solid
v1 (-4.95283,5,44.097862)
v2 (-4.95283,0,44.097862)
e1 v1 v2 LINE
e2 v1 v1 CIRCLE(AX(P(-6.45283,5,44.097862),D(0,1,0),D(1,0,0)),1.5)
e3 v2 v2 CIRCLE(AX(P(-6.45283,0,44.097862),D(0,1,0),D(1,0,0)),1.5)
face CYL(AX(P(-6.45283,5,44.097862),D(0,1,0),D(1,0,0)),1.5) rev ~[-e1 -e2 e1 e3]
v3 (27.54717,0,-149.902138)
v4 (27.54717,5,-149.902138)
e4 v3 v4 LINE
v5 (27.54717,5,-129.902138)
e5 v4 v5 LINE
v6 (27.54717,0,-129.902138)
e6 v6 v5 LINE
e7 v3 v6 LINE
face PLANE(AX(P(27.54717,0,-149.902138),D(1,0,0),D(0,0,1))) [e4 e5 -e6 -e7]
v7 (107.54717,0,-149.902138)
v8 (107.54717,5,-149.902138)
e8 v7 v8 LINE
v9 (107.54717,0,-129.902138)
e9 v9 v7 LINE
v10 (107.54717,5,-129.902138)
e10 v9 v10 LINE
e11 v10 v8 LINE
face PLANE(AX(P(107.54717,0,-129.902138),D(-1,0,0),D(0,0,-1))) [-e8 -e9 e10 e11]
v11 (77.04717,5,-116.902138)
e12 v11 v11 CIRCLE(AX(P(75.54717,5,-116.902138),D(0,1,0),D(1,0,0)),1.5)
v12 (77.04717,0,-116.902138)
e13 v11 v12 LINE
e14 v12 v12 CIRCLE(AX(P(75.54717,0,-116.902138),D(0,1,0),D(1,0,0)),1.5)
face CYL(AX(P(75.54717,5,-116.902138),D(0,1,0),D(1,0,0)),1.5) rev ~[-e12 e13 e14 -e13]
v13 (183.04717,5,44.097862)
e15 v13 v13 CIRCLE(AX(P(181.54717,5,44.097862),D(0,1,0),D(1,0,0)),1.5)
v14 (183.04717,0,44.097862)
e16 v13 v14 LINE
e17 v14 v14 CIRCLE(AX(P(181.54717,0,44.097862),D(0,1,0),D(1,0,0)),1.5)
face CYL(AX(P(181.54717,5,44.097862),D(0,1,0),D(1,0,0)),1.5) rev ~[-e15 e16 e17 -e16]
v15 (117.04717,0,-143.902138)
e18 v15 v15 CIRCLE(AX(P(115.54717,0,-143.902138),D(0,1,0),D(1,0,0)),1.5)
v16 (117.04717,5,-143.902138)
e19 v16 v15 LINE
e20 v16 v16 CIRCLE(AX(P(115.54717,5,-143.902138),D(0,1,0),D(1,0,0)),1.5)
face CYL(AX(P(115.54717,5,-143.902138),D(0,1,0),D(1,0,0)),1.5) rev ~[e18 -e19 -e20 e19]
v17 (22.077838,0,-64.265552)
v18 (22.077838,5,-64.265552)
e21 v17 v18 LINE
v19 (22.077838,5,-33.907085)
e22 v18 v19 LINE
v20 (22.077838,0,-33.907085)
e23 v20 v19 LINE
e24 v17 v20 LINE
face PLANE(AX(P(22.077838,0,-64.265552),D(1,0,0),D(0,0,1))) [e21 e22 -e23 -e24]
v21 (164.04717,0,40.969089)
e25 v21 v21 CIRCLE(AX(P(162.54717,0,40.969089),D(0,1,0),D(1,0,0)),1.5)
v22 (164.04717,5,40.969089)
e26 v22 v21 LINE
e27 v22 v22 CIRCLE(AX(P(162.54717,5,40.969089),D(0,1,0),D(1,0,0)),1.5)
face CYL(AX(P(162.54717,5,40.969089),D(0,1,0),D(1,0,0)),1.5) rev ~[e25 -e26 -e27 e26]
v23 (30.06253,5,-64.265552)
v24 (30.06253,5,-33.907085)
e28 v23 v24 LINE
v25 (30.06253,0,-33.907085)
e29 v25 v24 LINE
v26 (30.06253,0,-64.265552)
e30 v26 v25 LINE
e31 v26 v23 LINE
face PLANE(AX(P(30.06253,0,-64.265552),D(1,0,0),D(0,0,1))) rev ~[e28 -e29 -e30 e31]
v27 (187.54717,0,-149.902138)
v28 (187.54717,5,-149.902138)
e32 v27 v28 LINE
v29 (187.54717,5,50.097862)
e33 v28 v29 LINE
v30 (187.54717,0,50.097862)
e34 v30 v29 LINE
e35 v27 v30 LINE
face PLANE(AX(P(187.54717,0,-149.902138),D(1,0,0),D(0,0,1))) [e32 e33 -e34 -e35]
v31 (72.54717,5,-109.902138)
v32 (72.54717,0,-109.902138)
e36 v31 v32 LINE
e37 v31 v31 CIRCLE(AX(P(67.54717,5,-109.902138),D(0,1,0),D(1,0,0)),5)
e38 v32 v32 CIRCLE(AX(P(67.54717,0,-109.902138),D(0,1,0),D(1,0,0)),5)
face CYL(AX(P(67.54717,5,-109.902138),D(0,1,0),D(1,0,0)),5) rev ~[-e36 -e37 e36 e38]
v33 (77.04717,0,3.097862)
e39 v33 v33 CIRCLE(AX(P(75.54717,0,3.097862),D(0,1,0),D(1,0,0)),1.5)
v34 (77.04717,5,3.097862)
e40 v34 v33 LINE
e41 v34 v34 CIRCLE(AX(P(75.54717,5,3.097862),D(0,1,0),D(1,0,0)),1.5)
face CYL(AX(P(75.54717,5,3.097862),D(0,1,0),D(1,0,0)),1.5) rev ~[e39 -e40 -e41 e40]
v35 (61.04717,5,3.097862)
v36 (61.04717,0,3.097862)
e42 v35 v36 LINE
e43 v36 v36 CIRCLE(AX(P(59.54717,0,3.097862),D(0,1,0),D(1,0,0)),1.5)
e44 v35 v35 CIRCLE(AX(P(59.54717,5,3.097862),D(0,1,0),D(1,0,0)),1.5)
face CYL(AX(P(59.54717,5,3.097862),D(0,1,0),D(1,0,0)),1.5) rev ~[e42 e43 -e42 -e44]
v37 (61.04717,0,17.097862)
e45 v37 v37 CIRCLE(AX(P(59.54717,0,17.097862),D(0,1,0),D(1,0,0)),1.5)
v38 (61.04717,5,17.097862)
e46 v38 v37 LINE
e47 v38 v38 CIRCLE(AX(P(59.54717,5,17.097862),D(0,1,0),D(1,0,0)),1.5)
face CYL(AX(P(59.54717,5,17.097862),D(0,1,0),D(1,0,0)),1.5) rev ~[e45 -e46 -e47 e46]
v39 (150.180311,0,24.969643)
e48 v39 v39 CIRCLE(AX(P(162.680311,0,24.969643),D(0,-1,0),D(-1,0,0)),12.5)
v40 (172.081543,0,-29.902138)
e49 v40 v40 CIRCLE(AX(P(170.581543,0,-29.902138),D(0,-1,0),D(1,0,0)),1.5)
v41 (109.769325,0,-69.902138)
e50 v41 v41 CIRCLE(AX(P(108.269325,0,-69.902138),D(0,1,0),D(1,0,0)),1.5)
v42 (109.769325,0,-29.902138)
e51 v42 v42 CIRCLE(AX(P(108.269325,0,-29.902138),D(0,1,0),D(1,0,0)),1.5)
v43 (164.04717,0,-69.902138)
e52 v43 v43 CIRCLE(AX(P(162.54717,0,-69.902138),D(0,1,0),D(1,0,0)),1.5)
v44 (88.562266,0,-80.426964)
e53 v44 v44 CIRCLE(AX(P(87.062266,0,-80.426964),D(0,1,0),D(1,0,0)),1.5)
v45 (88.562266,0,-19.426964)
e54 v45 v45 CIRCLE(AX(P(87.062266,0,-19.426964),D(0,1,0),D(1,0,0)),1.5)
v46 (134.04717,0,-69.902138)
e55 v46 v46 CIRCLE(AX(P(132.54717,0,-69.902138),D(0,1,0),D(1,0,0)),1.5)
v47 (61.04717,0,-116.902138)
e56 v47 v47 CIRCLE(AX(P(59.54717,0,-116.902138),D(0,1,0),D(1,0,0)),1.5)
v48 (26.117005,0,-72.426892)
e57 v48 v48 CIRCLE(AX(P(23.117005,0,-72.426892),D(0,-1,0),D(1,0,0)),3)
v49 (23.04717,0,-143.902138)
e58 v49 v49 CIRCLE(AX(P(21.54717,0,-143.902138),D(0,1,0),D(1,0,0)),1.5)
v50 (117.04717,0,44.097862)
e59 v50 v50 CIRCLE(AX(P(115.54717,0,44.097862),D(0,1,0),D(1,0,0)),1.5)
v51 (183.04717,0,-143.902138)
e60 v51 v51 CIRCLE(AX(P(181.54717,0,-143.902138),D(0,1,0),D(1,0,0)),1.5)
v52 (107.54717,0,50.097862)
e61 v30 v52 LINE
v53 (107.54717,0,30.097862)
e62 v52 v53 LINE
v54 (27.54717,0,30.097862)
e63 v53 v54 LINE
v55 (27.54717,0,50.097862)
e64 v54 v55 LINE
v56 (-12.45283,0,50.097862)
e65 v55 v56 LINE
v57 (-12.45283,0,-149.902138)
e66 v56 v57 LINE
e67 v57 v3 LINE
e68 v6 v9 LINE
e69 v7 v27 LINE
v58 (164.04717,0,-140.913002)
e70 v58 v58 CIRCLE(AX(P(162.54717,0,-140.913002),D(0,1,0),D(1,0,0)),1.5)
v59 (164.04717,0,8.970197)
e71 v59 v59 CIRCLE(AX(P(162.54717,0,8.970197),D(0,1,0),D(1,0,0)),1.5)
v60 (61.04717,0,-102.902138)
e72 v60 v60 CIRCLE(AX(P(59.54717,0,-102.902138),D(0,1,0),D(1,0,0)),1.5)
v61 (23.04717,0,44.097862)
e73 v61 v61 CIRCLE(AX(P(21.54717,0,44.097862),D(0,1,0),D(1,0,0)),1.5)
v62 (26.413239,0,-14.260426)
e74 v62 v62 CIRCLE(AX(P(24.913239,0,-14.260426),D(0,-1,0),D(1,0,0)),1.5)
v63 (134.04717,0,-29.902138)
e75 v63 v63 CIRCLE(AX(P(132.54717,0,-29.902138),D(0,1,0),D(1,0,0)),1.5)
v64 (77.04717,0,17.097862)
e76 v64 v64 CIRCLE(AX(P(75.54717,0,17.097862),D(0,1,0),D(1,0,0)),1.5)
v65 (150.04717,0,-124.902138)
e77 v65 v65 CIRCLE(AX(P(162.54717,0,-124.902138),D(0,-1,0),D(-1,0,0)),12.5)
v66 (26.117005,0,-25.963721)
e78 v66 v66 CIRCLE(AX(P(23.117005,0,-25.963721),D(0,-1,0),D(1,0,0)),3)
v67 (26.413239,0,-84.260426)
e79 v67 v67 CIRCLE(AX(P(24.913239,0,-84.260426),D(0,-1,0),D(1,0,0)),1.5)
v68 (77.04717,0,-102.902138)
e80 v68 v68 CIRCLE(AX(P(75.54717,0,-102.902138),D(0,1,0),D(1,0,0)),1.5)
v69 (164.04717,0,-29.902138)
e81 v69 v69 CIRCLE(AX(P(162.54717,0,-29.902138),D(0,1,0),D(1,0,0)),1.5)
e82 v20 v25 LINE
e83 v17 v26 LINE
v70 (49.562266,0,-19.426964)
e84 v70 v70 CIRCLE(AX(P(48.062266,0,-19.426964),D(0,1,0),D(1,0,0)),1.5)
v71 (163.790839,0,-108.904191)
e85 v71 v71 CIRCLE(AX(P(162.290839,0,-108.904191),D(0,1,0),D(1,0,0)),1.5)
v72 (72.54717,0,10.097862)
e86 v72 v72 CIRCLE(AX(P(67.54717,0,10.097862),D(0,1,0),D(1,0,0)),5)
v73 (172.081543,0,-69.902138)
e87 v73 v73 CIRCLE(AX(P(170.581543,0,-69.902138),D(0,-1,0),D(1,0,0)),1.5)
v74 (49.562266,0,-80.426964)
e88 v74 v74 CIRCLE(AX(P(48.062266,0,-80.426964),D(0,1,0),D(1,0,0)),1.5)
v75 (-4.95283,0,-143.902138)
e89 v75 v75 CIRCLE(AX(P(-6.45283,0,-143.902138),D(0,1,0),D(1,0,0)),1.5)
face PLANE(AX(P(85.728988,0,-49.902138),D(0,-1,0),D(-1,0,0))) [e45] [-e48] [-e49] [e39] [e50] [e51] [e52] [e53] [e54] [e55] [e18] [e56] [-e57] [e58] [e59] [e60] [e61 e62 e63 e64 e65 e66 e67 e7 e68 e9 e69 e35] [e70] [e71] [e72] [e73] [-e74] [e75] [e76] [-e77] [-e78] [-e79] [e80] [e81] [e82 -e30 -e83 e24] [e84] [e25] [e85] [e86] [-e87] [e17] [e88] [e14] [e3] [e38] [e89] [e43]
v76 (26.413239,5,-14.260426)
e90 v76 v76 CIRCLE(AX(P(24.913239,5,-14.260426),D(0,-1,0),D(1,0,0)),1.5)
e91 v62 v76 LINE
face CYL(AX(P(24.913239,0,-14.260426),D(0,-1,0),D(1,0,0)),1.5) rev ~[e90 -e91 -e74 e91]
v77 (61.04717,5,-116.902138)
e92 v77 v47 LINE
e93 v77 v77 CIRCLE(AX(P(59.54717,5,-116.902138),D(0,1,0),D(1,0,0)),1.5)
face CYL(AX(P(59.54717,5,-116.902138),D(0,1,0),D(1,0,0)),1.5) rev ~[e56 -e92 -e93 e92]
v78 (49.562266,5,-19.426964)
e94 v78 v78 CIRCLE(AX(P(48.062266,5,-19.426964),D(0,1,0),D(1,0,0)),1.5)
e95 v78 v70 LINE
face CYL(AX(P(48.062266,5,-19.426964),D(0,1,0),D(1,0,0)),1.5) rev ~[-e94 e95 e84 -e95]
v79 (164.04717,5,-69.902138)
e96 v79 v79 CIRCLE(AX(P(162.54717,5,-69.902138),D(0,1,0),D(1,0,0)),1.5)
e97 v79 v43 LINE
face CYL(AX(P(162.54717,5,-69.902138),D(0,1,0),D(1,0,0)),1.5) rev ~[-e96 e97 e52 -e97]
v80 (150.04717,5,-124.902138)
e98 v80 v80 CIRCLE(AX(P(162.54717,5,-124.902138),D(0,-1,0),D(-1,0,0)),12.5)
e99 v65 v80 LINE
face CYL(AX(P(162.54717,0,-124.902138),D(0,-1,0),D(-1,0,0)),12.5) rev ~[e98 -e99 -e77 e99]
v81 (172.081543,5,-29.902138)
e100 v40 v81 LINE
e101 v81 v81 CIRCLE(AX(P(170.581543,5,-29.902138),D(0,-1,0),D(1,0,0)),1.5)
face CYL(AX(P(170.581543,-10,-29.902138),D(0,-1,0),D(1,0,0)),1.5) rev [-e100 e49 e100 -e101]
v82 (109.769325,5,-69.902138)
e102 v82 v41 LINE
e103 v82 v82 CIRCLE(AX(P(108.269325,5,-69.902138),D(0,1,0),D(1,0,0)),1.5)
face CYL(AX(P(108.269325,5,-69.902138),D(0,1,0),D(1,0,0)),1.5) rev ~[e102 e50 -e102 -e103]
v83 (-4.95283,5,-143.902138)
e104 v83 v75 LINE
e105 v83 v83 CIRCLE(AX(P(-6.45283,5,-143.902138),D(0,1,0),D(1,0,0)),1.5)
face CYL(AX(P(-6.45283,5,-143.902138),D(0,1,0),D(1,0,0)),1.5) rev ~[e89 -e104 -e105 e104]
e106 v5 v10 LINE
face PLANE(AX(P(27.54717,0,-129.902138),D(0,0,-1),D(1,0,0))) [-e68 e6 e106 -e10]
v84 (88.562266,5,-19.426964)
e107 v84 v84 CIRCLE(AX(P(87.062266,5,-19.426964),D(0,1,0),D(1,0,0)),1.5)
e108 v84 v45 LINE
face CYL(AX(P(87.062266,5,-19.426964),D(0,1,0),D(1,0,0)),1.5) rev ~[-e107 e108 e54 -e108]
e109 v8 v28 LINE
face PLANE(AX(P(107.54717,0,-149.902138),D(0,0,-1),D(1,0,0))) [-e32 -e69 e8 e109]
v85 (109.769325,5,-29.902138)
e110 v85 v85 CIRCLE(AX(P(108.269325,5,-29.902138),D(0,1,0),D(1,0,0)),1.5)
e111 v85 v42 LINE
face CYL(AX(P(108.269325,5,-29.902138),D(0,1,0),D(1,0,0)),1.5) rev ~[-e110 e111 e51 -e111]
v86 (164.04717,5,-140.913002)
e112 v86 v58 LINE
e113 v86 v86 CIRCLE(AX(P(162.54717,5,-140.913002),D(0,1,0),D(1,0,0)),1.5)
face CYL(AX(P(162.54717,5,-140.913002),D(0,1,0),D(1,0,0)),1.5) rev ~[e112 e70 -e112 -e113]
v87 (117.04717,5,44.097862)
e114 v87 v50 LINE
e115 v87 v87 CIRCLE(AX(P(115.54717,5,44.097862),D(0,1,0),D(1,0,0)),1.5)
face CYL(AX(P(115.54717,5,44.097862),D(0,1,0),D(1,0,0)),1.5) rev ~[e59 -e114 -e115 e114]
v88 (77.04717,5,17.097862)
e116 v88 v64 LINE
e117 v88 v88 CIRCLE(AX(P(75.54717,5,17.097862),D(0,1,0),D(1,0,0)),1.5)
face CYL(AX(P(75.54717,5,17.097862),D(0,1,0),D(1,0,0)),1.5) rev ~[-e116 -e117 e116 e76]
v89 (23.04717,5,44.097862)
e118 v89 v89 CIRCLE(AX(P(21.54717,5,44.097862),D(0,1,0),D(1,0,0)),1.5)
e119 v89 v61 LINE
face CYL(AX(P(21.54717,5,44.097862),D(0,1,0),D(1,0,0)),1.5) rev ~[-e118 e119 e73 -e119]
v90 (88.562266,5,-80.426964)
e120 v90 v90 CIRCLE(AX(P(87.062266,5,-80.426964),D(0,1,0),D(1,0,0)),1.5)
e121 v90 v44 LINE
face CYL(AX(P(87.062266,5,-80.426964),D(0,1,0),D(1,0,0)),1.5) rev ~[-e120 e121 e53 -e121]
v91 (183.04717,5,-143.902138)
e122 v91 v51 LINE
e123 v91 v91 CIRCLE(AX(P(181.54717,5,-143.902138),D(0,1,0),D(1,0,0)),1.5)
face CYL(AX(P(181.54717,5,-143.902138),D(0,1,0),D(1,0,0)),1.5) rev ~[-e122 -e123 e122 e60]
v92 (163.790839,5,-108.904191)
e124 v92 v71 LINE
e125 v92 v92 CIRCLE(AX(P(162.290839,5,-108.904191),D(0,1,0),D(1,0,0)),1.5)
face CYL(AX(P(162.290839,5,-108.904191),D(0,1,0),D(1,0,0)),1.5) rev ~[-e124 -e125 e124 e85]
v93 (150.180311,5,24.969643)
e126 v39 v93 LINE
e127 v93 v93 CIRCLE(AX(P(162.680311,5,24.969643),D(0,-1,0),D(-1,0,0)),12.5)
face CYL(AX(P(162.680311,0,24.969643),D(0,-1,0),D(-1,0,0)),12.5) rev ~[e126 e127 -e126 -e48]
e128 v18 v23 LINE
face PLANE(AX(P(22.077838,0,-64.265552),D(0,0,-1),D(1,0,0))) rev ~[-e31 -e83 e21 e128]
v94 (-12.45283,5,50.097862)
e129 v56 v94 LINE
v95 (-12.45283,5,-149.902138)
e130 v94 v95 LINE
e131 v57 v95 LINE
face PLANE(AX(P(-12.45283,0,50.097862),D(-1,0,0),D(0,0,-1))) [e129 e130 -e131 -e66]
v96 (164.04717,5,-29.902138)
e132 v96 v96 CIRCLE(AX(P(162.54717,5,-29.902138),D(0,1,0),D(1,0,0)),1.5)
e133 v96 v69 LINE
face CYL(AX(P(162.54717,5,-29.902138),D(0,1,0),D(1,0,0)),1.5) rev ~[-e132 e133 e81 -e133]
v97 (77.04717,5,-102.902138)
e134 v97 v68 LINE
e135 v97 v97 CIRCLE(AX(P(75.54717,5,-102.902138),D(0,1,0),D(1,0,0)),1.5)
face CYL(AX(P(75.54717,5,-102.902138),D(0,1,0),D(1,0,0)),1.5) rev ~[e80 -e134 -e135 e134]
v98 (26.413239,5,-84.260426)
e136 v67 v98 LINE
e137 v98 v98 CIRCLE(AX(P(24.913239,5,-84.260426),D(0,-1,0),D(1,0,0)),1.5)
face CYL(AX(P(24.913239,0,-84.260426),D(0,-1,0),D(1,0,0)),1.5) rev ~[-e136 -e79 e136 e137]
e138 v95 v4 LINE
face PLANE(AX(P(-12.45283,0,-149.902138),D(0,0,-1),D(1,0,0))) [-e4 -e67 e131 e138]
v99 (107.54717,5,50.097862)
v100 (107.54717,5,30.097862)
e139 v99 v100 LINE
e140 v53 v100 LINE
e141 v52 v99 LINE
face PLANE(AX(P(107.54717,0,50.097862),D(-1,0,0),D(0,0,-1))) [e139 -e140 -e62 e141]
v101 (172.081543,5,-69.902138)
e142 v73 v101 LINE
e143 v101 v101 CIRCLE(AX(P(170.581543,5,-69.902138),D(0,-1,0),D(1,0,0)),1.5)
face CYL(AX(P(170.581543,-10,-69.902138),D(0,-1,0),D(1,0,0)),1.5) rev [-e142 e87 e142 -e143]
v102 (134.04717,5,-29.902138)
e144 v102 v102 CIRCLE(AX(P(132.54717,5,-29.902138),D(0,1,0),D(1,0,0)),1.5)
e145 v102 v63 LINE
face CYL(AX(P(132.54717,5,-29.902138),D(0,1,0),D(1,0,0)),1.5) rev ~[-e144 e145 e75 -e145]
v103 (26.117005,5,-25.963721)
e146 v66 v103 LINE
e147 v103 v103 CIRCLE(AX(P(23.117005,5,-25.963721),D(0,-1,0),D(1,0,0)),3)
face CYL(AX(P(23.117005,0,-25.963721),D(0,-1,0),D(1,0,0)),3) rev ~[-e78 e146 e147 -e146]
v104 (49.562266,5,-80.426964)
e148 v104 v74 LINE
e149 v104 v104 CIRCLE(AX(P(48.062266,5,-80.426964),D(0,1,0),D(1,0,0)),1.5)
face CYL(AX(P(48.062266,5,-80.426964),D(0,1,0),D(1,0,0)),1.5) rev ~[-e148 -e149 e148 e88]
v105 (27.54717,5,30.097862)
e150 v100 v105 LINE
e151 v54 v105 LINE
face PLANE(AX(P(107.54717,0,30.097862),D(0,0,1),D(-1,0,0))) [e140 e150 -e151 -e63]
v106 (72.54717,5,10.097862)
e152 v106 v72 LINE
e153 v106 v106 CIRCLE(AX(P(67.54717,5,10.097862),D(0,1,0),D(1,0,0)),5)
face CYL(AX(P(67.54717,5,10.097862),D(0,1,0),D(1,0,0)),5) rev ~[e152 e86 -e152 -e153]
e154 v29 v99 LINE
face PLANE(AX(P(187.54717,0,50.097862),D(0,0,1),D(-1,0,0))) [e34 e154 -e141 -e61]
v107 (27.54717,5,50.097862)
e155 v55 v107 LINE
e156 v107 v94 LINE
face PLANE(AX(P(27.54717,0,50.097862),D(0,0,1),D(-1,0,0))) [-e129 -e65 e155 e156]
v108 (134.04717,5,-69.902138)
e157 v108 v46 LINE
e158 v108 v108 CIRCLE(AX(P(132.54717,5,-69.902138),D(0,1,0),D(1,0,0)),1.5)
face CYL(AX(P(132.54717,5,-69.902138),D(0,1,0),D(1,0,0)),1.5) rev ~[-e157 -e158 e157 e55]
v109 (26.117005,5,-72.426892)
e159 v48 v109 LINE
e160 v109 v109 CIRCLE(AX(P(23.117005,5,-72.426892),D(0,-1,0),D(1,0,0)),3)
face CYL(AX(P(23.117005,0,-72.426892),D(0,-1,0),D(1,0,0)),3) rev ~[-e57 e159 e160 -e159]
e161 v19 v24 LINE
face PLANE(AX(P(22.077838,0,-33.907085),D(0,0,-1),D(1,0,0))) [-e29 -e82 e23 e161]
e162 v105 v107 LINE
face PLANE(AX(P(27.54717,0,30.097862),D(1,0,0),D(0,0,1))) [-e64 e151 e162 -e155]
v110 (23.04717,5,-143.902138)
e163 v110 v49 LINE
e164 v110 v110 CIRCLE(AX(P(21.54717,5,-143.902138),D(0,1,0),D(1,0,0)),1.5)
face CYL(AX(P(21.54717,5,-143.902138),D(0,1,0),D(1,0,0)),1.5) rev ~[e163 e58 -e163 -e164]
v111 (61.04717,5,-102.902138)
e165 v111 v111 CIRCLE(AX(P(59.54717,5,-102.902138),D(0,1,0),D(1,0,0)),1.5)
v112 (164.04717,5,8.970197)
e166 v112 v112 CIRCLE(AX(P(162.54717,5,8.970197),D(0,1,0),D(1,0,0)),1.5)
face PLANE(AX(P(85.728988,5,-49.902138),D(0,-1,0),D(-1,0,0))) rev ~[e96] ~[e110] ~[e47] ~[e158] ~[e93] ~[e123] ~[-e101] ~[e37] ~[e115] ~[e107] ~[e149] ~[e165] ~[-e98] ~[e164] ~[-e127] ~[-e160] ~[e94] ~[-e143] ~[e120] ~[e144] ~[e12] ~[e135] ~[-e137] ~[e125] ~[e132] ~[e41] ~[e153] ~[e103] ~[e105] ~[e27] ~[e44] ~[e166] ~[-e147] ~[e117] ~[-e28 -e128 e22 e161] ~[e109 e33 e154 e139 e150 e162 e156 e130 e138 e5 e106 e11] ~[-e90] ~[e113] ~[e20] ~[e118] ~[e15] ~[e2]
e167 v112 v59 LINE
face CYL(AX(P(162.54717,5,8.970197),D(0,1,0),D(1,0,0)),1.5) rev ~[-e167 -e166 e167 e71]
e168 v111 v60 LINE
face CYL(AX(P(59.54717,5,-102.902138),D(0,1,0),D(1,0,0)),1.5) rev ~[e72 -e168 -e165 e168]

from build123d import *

# Parameters (mm, degrees)
BOSS_EXTRUDE1_DEPTH      = 5
SKETCH14_R               = 5
CUT_EXTRUDE1_DEPTH       = 10
SKETCH15_R               = 1.5
CUT_EXTRUDE2_DEPTH       = 10
SKETCH16_R               = 1.5
CUT_EXTRUDE3_DEPTH       = 20
SKETCH18_R               = 1.5
SKETCH18_R_2             = 3
SKETCH18_W               = 7.984692674
SKETCH18_H               = 30.35846694
CUT_EXTRUDE4_DEPTH       = 20
SKETCH20_R               = 12.5
CUT_EXTRUDE5_DEPTH       = 20
SKETCH21_R               = 1.5
CUT_EXTRUDE6_DEPTH       = 20
SKETCH22_R               = 1.5
CUT_EXTRUDE8_DEPTH       = 5
SKETCH23_R               = 1.5
CUT_EXTRUDE9_DEPTH       = 10
CUT_EXTRUDE10_DEPTH      = 25
CUT_EXTRUDE10_DEPTH_BACK = 15
SKETCH24_R               = 1.5


with BuildPart() as part:
    # Sketch1 → Boss-Extrude1 (new body)
    with BuildSketch(Plane(origin=(0, 0, 0), x_dir=(1, 0, 0), z_dir=(0, 1, 0))):
        Polygon((27.547169811, 149.902137597), (27.547169811, 129.902137597), (107.547169811, 129.902137597), (107.547169811, 149.902137597), (187.547169811, 149.902137597), (187.547169811, -50.097862403), (107.547169811, -50.097862403), (107.547169811, -30.097862403), (27.547169811, -30.097862403), (27.547169811, -50.097862403), (-12.452830189, -50.097862403), (-12.452830189, 149.902137597), align=None)
    extrude(amount=BOSS_EXTRUDE1_DEPTH)

    # Sketch14 → Cut-Extrude1 (cut)
    with BuildSketch(Plane(origin=(0, 5, 0), x_dir=(1, 0, 0), z_dir=(0, 1, 0))):
        with Locations((67.547169811, 109.902137597)):
            Circle(SKETCH14_R)
        with Locations((67.547169811, -10.097862403)):
            Circle(SKETCH14_R)
    extrude(amount=-CUT_EXTRUDE1_DEPTH, mode=Mode.SUBTRACT)

    # Sketch15 → Cut-Extrude2 (cut)
    with BuildSketch(Plane(origin=(0, 5, 0), x_dir=(1, 0, 0), z_dir=(0, 1, 0))):
        with Locations((75.547169811, 116.902137597)):
            Circle(SKETCH15_R)
        with Locations((59.547169811, 116.902137597)):
            Circle(SKETCH15_R)
        with Locations((59.547169811, 102.902137597)):
            Circle(SKETCH15_R)
        with Locations((75.547169811, 102.902137597)):
            Circle(SKETCH15_R)
        with Locations((59.547169811, -3.097862403)):
            Circle(SKETCH15_R)
        with Locations((75.547169811, -3.097862403)):
            Circle(SKETCH15_R)
        with Locations((59.547169811, -17.097862403)):
            Circle(SKETCH15_R)
        with Locations((75.547169811, -17.097862403)):
            Circle(SKETCH15_R)
    extrude(amount=-CUT_EXTRUDE2_DEPTH, mode=Mode.SUBTRACT)

    # Sketch16 → Cut-Extrude3 (cut)
    with BuildSketch(Plane(origin=(0, 5, 0), x_dir=(1, 0, 0), z_dir=(0, 1, 0))):
        with Locations((87.062266283, 80.426964221)):
            Circle(SKETCH16_R)
        with Locations((48.062266283, 80.426964221)):
            Circle(SKETCH16_R)
        with Locations((87.062266283, 19.426964221)):
            Circle(SKETCH16_R)
        with Locations((48.062266283, 19.426964221)):
            Circle(SKETCH16_R)
    extrude(amount=-CUT_EXTRUDE3_DEPTH, mode=Mode.SUBTRACT)

    # Sketch18 → Cut-Extrude4 (cut)
    with BuildSketch(Plane.XZ):
        with Locations((24.913238559, -14.26042599)):
            Circle(SKETCH18_R)
        with Locations((24.913238559, -84.26042599)):
            Circle(SKETCH18_R)
        with Locations((23.117005466, -25.963721395)):
            Circle(SKETCH18_R_2)
        with Locations((23.117005466, -72.426892222)):
            Circle(SKETCH18_R_2)
        with Locations((26.070184113, -49.086318125)):
            Rectangle(SKETCH18_W, SKETCH18_H)
    extrude(amount=-CUT_EXTRUDE4_DEPTH, mode=Mode.SUBTRACT)

    # Sketch20 → Cut-Extrude5 (cut)
    with BuildSketch(Plane(origin=(0, 0, 0), x_dir=(-1, 0, 0), z_dir=(0, -1, 0))):
        with Locations((-162.680311237, -24.96964283)):
            Circle(SKETCH20_R)
        with Locations((-162.547169811, 124.902137597)):
            Circle(SKETCH20_R)
    extrude(amount=-CUT_EXTRUDE5_DEPTH, mode=Mode.SUBTRACT)

    # Sketch21 → Cut-Extrude6 (cut)
    with BuildSketch(Plane(origin=(0, 5, 0), x_dir=(1, 0, 0), z_dir=(0, 1, 0))):
        with Locations((162.547169811, 140.913002397)):
            Circle(SKETCH21_R)
        with Locations((162.290839353, 108.90419102)):
            Circle(SKETCH21_R)
        with Locations((162.547169811, -8.970196797)):
            Circle(SKETCH21_R)
        with Locations((162.547169811, -40.969088863)):
            Circle(SKETCH21_R)
    extrude(amount=-CUT_EXTRUDE6_DEPTH, mode=Mode.SUBTRACT)

    # Sketch22 → Cut-Extrude8 (cut)
    with BuildSketch(Plane(origin=(0, 5, 0), x_dir=(1, 0, 0), z_dir=(0, 1, 0))):
        with Locations((115.547169811, 143.902137597)):
            Circle(SKETCH22_R)
        with Locations((181.547169811, -44.097862403)):
            Circle(SKETCH22_R)
        with Locations((181.547169811, 143.902137597)):
            Circle(SKETCH22_R)
        with Locations((115.547169811, -44.097862403)):
            Circle(SKETCH22_R)
        with Locations((-6.452830189, 143.902137597)):
            Circle(SKETCH22_R)
        with Locations((21.547169811, 143.902137597)):
            Circle(SKETCH22_R)
        with Locations((-6.452830189, -44.097862403)):
            Circle(SKETCH22_R)
        with Locations((21.547169811, -44.097862403)):
            Circle(SKETCH22_R)
    extrude(amount=-CUT_EXTRUDE8_DEPTH, mode=Mode.SUBTRACT)

    # Sketch23 → Cut-Extrude9 (cut)
    with BuildSketch(Plane(origin=(0, 5, 0), x_dir=(1, 0, 0), z_dir=(0, 1, 0))):
        with Locations((162.547169811, 69.902137597)):
            Circle(SKETCH23_R)
        with Locations((162.547169811, 29.902137597)):
            Circle(SKETCH23_R)
        with Locations((132.547169811, 69.902137597)):
            Circle(SKETCH23_R)
        with Locations((132.547169811, 29.902137597)):
            Circle(SKETCH23_R)
        with Locations((108.269324535, 69.902137597)):
            Circle(SKETCH23_R)
        with Locations((108.269324535, 29.902137597)):
            Circle(SKETCH23_R)
    extrude(amount=-CUT_EXTRUDE9_DEPTH, mode=Mode.SUBTRACT)

    # Sketch24 → Cut-Extrude10 (cut, two sides: drawn at the far end of the back side and taken through both)
    with BuildSketch(Plane(origin=(0, 5, 0), x_dir=(1, 0, 0), z_dir=(0, 1, 0)).offset(-CUT_EXTRUDE10_DEPTH_BACK)):
        with Locations((170.581543225, 69.902137597)):
            Circle(SKETCH24_R)
        with Locations((170.581543225, 29.902137597)):
            Circle(SKETCH24_R)
    extrude(amount=CUT_EXTRUDE10_DEPTH + CUT_EXTRUDE10_DEPTH_BACK, mode=Mode.SUBTRACT)


solid = part.part
